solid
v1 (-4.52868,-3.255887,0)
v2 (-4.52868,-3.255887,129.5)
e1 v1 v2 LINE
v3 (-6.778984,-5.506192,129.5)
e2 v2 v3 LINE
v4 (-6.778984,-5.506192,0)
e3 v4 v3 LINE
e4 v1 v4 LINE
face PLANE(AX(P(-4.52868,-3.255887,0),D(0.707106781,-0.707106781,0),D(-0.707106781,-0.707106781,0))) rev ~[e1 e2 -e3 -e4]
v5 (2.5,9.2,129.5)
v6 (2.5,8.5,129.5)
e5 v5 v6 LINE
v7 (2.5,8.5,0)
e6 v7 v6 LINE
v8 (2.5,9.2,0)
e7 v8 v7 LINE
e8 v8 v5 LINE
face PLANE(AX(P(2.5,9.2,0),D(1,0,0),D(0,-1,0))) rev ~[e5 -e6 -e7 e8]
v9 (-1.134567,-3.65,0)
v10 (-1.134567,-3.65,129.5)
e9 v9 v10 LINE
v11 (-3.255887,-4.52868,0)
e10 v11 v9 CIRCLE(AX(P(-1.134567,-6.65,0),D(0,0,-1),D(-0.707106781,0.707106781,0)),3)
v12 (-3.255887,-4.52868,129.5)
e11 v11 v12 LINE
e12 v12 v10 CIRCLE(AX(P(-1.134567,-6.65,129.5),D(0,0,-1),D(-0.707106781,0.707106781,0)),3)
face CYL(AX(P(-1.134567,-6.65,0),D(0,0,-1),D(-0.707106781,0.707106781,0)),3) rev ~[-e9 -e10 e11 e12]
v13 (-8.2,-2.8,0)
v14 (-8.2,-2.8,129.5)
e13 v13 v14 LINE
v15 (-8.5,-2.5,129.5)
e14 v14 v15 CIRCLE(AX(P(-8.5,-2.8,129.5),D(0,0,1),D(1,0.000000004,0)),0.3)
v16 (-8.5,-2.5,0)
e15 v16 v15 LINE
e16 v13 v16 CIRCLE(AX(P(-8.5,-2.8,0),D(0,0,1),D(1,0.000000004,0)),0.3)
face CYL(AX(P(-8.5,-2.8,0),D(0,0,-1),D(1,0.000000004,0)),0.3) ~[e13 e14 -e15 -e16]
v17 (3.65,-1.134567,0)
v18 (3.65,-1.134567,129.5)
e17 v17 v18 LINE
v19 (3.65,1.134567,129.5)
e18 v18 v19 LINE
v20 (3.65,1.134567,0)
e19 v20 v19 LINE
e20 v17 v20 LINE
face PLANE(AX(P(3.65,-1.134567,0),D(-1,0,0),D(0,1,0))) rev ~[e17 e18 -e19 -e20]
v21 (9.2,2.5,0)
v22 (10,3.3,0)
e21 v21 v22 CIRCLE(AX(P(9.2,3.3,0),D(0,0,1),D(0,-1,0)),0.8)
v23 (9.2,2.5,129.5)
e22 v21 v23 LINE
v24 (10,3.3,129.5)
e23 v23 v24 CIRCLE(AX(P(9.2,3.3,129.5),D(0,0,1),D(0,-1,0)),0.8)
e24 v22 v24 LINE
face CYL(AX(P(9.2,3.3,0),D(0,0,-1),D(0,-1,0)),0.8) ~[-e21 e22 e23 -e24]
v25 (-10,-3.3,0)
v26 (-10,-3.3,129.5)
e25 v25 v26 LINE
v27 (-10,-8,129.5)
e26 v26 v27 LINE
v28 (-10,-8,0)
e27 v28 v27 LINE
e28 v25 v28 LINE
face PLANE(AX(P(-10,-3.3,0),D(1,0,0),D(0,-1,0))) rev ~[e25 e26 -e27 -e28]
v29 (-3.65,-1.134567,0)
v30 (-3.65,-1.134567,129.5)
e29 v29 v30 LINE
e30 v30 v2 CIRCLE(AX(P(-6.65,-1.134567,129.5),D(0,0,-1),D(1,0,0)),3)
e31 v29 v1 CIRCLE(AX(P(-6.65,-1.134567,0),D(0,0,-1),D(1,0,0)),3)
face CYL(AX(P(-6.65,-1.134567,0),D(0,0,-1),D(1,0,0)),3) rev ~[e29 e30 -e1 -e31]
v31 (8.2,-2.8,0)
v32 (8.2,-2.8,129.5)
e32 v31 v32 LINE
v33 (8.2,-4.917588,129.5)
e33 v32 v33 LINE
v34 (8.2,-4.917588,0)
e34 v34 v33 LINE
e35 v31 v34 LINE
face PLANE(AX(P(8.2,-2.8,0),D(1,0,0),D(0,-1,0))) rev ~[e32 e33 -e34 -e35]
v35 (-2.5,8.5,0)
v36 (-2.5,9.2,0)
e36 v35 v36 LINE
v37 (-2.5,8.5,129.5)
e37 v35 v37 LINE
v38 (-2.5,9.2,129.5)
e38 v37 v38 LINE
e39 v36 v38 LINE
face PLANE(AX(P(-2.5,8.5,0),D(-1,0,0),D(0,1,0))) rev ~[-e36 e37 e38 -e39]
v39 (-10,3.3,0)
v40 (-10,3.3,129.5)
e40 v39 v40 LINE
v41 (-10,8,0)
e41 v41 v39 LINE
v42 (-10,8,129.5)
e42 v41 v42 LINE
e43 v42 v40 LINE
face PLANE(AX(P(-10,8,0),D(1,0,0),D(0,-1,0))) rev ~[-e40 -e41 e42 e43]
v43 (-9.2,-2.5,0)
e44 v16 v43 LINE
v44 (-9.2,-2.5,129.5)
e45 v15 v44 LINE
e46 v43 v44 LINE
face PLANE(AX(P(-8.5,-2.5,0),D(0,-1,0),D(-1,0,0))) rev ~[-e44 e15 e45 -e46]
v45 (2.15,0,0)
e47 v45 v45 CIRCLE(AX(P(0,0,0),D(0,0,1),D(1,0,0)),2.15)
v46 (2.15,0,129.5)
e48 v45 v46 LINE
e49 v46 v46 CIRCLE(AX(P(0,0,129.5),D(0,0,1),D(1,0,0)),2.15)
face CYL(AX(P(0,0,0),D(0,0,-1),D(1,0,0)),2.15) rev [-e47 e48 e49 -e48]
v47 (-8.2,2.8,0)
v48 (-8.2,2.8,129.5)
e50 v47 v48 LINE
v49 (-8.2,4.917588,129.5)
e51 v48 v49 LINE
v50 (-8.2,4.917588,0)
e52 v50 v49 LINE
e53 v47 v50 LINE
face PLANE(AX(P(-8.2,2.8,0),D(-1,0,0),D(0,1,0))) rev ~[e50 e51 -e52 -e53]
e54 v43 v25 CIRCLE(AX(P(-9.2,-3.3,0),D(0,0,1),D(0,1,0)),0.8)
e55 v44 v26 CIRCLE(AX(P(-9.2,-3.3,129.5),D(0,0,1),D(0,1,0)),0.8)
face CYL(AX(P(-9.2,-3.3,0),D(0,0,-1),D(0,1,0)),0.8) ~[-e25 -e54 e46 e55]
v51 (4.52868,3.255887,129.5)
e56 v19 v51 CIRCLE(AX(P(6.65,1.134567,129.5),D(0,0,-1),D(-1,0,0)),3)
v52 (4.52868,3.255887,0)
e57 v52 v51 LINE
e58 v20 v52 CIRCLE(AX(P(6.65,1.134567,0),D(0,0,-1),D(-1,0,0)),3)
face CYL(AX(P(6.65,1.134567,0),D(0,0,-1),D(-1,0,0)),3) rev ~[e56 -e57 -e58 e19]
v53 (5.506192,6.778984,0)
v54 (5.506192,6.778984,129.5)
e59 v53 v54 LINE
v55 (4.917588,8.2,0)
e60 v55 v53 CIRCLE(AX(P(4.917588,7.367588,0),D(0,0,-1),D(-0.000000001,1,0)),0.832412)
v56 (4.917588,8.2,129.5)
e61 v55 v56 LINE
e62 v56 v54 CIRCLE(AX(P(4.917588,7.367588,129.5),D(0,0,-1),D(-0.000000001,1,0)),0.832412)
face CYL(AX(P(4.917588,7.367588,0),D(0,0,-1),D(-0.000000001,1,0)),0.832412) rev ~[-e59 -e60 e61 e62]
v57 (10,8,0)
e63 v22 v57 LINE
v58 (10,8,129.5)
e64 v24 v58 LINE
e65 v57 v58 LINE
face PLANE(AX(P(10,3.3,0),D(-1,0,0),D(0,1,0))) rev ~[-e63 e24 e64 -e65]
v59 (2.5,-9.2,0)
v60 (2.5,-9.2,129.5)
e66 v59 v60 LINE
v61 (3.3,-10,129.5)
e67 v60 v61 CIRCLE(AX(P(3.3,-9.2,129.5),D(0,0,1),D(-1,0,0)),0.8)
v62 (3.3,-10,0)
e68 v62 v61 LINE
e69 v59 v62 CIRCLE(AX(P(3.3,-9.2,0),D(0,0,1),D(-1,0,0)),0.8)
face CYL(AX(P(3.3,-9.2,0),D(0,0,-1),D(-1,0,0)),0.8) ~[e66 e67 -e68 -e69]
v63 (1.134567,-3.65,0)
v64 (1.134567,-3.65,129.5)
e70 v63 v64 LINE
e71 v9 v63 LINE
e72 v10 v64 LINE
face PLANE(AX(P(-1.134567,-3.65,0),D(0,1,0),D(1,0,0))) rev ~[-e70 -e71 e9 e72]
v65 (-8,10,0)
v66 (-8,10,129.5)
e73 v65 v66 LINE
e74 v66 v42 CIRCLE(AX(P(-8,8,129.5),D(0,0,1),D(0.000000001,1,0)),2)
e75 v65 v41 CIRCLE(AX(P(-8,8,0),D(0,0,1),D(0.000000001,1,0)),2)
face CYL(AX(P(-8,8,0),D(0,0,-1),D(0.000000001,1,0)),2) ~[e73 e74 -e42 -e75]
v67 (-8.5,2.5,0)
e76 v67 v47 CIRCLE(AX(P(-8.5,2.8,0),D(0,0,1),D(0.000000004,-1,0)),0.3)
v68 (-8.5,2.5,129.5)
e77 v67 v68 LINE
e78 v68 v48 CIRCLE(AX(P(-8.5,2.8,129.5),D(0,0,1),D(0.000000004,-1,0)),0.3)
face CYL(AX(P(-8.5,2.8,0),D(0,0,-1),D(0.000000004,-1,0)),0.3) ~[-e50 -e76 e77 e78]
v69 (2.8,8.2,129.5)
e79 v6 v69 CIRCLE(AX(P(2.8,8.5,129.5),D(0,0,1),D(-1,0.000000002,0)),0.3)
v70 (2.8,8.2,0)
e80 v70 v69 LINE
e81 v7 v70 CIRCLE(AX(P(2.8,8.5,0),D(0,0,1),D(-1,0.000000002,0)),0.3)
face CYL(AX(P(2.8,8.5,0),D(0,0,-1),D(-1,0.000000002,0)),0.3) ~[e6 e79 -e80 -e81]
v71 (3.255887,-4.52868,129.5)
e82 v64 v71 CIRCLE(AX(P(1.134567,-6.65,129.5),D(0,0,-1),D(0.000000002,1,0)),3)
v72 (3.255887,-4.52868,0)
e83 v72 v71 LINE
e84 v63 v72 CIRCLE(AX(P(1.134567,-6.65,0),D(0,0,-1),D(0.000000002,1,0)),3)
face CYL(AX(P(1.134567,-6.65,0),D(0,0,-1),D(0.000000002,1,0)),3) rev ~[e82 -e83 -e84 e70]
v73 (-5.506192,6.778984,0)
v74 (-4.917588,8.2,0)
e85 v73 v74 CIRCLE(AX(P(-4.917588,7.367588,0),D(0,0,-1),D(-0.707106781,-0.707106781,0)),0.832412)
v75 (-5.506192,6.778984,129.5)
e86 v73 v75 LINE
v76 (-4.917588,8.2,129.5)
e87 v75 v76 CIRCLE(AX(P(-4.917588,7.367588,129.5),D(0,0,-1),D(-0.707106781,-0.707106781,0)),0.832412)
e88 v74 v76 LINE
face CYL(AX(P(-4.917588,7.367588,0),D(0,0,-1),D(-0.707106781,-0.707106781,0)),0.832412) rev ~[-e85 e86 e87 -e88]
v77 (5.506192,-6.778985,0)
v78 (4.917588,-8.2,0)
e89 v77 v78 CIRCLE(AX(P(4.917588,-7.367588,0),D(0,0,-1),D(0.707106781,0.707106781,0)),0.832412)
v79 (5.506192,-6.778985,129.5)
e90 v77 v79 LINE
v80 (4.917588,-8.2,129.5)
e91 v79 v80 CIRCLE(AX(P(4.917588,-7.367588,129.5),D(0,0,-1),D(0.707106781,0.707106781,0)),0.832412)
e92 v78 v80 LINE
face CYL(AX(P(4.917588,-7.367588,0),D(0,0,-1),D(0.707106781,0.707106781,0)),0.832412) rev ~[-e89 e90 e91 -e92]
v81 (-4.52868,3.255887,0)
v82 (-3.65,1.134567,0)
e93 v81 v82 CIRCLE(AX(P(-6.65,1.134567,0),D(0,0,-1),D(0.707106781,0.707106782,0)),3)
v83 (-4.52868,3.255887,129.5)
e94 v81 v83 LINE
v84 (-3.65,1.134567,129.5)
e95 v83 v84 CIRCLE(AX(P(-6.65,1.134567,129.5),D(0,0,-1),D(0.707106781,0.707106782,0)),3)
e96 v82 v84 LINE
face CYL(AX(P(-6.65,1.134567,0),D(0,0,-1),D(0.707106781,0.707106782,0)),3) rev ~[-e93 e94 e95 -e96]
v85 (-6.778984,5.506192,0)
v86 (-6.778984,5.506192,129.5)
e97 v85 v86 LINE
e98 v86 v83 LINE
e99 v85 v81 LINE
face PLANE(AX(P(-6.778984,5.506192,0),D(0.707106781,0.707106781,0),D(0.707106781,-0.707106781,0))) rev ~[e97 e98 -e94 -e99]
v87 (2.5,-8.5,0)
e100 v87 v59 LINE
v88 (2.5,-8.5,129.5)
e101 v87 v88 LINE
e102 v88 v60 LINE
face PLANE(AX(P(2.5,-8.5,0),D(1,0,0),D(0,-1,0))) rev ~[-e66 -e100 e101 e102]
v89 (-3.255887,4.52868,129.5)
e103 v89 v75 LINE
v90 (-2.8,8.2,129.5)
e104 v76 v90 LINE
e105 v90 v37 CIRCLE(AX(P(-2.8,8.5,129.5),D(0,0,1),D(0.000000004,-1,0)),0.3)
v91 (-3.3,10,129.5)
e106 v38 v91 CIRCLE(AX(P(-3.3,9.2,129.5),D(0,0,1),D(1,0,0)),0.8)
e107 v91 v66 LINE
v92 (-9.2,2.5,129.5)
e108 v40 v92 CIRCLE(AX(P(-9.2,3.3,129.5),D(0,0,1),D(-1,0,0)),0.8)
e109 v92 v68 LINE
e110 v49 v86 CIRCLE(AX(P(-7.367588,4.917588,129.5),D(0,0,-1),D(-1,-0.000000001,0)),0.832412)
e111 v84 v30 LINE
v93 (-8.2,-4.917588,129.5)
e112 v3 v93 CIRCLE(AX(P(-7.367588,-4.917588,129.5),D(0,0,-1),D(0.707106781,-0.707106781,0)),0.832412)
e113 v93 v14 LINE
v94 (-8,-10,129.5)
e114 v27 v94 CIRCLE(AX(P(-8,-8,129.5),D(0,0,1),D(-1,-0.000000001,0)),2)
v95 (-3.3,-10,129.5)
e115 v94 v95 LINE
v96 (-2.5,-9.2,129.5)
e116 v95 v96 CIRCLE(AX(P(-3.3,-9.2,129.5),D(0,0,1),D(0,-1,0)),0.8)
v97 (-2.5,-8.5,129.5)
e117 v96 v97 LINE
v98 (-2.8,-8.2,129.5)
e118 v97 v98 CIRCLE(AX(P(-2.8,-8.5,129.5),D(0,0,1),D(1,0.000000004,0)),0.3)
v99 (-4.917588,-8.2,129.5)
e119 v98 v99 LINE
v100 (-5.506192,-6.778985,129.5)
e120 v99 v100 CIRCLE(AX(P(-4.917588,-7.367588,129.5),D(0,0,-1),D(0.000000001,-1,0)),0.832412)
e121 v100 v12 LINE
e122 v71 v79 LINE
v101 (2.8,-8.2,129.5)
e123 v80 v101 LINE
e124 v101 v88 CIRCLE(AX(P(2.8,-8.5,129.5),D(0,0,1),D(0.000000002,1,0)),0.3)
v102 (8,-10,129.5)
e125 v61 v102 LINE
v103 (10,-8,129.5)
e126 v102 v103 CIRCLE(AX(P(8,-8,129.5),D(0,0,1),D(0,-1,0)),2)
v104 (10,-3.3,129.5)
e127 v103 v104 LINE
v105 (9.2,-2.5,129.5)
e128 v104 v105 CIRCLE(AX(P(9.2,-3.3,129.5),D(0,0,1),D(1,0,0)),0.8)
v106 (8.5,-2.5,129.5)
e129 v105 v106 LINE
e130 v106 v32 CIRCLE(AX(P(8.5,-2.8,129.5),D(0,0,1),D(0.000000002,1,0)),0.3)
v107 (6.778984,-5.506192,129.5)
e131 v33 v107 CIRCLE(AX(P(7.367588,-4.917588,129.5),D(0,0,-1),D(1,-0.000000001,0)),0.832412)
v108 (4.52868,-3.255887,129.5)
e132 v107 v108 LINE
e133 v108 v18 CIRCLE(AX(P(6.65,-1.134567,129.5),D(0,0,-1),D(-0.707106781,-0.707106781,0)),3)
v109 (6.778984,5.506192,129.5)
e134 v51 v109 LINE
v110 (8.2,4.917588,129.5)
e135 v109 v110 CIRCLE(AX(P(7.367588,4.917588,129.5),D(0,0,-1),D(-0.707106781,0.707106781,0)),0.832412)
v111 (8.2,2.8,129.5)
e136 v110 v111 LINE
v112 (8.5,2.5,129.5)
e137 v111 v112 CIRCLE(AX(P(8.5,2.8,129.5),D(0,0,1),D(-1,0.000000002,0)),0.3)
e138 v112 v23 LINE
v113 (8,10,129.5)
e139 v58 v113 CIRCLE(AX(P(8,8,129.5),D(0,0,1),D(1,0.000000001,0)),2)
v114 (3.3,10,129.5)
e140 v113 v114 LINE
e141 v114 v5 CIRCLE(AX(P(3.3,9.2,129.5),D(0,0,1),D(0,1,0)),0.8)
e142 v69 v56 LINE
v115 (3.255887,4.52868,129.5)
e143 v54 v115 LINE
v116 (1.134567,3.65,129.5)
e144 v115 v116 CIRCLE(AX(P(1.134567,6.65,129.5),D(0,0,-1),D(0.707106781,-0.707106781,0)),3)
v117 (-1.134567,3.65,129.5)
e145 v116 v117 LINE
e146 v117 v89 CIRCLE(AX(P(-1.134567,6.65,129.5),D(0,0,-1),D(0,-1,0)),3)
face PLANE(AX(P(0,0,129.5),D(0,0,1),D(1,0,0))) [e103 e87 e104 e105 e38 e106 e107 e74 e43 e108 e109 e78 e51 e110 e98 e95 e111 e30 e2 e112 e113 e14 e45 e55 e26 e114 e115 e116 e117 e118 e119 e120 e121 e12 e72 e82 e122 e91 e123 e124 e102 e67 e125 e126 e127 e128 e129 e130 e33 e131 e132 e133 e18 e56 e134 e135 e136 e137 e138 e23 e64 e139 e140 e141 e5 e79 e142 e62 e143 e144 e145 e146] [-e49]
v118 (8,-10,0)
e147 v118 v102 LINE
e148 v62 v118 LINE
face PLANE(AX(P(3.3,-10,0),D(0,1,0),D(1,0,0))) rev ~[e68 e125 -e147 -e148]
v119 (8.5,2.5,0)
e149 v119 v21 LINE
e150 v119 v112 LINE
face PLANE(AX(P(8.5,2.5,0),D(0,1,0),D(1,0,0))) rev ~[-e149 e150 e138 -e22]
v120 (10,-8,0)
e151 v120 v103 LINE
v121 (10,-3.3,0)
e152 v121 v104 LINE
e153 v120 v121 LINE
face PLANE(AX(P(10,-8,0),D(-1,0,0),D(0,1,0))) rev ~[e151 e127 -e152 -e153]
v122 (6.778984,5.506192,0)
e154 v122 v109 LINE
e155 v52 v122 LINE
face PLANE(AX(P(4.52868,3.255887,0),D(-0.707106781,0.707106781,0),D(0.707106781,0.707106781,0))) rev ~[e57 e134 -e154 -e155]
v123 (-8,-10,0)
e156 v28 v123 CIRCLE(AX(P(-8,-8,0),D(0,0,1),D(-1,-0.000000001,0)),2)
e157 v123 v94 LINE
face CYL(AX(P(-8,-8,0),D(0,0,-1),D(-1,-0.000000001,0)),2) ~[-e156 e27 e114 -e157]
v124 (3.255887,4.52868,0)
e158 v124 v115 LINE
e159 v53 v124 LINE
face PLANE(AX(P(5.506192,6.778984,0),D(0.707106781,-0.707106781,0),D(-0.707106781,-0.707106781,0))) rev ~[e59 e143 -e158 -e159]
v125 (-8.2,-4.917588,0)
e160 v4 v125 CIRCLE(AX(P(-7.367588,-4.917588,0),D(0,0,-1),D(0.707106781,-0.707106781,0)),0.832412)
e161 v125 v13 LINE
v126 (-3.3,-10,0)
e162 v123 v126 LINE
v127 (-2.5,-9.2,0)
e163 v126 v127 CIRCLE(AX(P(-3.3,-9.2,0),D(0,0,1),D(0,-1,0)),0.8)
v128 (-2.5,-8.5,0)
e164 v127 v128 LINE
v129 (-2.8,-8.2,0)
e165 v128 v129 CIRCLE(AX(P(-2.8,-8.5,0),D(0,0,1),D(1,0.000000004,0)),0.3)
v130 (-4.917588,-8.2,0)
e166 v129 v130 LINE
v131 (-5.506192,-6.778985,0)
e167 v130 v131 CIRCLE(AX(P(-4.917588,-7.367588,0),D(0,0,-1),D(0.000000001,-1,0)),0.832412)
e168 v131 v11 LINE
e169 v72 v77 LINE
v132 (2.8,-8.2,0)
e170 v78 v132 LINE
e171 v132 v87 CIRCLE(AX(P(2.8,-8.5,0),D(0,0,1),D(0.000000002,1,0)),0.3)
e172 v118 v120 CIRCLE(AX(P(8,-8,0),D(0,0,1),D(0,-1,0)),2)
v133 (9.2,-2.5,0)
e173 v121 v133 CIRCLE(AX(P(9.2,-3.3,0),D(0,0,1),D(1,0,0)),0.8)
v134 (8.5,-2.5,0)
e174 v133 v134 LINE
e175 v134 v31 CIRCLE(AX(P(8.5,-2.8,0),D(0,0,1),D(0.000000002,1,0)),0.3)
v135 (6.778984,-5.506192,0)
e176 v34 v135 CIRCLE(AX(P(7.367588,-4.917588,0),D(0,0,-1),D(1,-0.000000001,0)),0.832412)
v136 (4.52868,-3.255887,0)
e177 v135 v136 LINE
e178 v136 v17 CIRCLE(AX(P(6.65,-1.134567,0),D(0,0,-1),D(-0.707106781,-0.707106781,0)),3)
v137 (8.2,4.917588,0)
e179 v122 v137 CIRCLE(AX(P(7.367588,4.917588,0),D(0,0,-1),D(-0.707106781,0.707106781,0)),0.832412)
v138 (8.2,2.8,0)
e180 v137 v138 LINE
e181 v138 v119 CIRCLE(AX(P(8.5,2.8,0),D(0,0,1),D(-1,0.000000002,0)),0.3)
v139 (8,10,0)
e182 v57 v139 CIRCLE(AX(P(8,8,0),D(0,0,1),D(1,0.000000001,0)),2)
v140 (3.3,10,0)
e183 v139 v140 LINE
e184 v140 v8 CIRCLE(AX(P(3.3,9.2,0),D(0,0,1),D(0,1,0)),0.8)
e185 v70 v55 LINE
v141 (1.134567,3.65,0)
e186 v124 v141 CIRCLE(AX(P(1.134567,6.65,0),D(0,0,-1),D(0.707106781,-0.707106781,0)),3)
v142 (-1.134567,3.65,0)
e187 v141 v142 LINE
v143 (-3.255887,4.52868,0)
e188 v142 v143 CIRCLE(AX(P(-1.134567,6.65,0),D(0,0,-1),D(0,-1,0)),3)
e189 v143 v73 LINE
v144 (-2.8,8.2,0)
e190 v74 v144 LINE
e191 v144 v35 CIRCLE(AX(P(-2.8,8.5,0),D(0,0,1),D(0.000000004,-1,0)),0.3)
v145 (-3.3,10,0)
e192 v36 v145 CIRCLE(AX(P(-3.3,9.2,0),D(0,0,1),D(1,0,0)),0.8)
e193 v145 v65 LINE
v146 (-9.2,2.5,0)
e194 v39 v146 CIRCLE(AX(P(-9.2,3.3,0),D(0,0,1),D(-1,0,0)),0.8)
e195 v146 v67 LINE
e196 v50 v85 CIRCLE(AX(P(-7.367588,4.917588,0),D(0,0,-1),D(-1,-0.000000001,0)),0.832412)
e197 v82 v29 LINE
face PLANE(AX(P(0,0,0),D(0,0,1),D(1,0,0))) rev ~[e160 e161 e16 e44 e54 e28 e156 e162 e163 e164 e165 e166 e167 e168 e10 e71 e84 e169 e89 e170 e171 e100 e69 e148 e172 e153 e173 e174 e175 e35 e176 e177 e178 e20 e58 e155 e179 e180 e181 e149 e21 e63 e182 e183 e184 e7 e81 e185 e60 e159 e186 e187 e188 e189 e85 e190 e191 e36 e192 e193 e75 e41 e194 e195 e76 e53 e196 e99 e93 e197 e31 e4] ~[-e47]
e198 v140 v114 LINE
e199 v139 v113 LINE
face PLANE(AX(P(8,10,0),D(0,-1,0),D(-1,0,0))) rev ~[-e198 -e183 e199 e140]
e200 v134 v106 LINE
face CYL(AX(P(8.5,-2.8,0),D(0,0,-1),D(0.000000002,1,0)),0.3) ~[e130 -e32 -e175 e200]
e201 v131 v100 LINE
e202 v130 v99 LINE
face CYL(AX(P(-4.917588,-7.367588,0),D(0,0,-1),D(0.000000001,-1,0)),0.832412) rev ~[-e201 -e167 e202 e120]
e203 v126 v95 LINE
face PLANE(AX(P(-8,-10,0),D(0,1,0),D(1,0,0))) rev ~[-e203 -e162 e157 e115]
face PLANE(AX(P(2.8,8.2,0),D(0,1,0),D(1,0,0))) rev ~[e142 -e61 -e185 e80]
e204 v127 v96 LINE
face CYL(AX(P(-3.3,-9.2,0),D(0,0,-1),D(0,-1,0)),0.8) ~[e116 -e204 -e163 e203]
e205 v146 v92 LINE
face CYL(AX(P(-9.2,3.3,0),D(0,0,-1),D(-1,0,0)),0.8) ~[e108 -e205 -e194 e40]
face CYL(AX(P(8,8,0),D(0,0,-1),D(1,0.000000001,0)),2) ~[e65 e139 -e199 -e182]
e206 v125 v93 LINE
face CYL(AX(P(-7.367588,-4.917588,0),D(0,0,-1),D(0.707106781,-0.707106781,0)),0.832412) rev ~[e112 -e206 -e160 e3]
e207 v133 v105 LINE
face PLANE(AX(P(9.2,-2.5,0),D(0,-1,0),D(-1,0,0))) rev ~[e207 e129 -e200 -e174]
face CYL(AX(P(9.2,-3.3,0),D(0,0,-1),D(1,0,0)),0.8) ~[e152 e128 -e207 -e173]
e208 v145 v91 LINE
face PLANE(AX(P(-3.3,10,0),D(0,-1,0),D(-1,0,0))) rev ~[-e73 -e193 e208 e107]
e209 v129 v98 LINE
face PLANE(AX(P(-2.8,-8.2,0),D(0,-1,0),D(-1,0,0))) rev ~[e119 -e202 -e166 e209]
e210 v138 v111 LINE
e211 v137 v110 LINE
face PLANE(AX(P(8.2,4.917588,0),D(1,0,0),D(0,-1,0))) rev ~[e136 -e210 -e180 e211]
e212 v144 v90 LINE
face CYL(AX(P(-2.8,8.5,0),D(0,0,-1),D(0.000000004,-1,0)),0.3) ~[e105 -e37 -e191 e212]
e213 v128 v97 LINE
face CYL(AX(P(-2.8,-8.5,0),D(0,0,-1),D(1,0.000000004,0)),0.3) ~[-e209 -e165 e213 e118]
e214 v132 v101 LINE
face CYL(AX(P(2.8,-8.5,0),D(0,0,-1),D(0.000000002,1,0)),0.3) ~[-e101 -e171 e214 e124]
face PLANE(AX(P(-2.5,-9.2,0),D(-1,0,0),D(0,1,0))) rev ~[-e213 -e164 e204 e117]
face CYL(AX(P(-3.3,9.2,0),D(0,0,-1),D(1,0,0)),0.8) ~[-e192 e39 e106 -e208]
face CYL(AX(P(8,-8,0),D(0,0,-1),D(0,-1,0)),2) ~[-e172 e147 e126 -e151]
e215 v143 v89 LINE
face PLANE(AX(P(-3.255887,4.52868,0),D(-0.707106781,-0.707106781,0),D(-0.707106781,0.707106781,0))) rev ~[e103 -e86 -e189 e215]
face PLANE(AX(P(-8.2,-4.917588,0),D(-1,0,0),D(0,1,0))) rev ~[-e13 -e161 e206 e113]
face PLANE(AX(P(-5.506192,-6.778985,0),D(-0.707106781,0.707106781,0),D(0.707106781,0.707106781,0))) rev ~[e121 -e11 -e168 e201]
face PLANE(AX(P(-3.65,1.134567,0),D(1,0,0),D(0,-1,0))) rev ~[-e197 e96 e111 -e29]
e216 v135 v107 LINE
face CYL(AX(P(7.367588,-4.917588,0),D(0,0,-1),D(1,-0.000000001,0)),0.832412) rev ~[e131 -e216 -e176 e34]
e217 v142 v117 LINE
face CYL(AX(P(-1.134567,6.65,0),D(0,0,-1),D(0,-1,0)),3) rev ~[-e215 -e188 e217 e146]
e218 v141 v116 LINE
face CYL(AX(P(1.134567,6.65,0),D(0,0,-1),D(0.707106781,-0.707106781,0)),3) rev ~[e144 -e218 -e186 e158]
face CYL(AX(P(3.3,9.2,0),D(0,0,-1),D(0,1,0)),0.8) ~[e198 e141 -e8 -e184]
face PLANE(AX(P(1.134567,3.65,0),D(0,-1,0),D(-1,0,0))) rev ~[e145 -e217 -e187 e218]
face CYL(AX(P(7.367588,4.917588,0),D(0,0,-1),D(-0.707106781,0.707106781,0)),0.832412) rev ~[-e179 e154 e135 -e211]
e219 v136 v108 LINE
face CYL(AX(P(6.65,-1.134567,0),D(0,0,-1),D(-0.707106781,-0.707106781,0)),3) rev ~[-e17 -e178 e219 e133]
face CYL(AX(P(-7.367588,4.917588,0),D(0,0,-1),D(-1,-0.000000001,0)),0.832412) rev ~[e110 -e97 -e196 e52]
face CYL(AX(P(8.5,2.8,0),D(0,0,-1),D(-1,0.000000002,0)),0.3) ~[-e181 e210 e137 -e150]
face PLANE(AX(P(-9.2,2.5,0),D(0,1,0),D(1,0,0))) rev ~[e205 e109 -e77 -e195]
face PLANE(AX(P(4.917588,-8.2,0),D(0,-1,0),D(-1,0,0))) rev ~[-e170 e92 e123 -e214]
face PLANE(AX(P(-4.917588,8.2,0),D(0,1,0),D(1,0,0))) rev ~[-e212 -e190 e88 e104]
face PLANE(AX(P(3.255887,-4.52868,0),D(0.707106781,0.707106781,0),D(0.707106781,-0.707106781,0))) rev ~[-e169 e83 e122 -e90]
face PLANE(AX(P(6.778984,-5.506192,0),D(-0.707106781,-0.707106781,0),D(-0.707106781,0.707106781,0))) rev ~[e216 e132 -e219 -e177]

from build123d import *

# Parameters (mm, degrees)
BOSS_EXTRU_1_DEPTH = 129.5


with BuildPart() as part:
    # Esquisse1 → Boss.-Extru.1 (new body)
    with BuildSketch(Plane.XY):
        with BuildLine():
            Line((-3.255887446, 4.528679645), (-5.506192286, 6.778984485))
            ThreePointArc((-5.506192286, 6.778984485), (-5.686636441, 7.686138511), (-4.917588391, 8.199999989))
            Line((-4.917588391, 8.199999989), (-2.799999991, 8.199999989))
            ThreePointArc((-2.799999991, 8.199999989), (-2.587867957, 8.287867955), (-2.499999991, 8.499999989))
            Line((-2.499999991, 8.499999989), (-2.499999991, 9.199999989))
            ThreePointArc((-2.499999991, 9.199999989), (-2.734314566, 9.765685414), (-3.299999991, 9.999999989))
            Line((-3.299999991, 9.999999989), (-7.999999991, 9.999999989))
            ThreePointArc((-7.999999991, 9.999999989), (-9.414213554, 9.414213552), (-9.999999991, 7.999999989))
            Line((-9.999999991, 7.999999989), (-9.999999991, 3.299999989))
            ThreePointArc((-9.999999991, 3.299999989), (-9.765685416, 2.734314564), (-9.199999991, 2.499999989))
            Line((-9.199999991, 2.499999989), (-8.499999991, 2.499999989))
            ThreePointArc((-8.499999991, 2.499999989), (-8.287867957, 2.587867955), (-8.199999991, 2.799999989))
            Line((-8.199999991, 2.799999989), (-8.199999991, 4.917588389))
            ThreePointArc((-8.199999991, 4.917588389), (-7.686138517, 5.686636433), (-6.778984497, 5.506192279))
            Line((-6.778984497, 5.506192279), (-4.528679657, 3.255887439))
            ThreePointArc((-4.528679657, 3.255887439), (-3.878361403, 2.282617393), (-3.650000001, 1.134567096))
            Line((-3.650000001, 1.134567096), (-3.650000001, -1.134567114))
            ThreePointArc((-3.650000001, -1.134567114), (-3.878361403, -2.282617409), (-4.528679656, -3.255887454))
            Line((-4.528679656, -3.255887454), (-6.778984496, -5.506192294))
            ThreePointArc((-6.778984496, -5.506192294), (-7.686138522, -5.686636449), (-8.2, -4.9175884))
            Line((-8.2, -4.9175884), (-8.2, -2.8))
            ThreePointArc((-8.2, -2.8), (-8.287867966, -2.587867966), (-8.5, -2.5))
            Line((-8.5, -2.5), (-9.2, -2.5))
            ThreePointArc((-9.2, -2.5), (-9.765685425, -2.734314575), (-10, -3.3))
            Line((-10, -3.3), (-10, -8))
            ThreePointArc((-10, -8), (-9.414213562, -9.414213562), (-8, -10))
            Line((-8, -10), (-3.3, -10))
            ThreePointArc((-3.3, -10), (-2.734314575, -9.765685425), (-2.5, -9.2))
            Line((-2.5, -9.2), (-2.5, -8.5))
            ThreePointArc((-2.5, -8.5), (-2.587867966, -8.287867966), (-2.8, -8.2))
            Line((-2.8, -8.2), (-4.9175884, -8.2))
            ThreePointArc((-4.9175884, -8.2), (-5.686636444, -7.686138526), (-5.50619229, -6.778984506))
            Line((-5.50619229, -6.778984506), (-3.25588745, -4.528679666))
            ThreePointArc((-3.25588745, -4.528679666), (-2.282617404, -3.878361412), (-1.134567106, -3.650000009))
            Line((-1.134567106, -3.650000009), (1.134567104, -3.650000009))
            ThreePointArc((1.134567104, -3.650000009), (2.282617399, -3.878361412), (3.255887444, -4.528679664))
            Line((3.255887444, -4.528679664), (5.506192284, -6.778984504))
            ThreePointArc((5.506192284, -6.778984504), (5.686636439, -7.686138531), (4.917588389, -8.200000009))
            Line((4.917588389, -8.200000009), (2.799999989, -8.200000009))
            ThreePointArc((2.799999989, -8.200000009), (2.587867955, -8.287867974), (2.499999989, -8.500000009))
            Line((2.499999989, -8.500000009), (2.499999989, -9.200000009))
            ThreePointArc((2.499999989, -9.200000009), (2.734314564, -9.765685434), (3.299999989, -10.000000009))
            Line((3.299999989, -10.000000009), (7.999999989, -10.000000009))
            ThreePointArc((7.999999989, -10.000000009), (9.414213552, -9.414213571), (9.999999989, -8.000000009))
            Line((9.999999989, -8.000000009), (9.999999989, -3.300000009))
            ThreePointArc((9.999999989, -3.300000009), (9.765685414, -2.734314584), (9.199999989, -2.500000009))
            Line((9.199999989, -2.500000009), (8.499999989, -2.500000009))
            ThreePointArc((8.499999989, -2.500000009), (8.287867955, -2.587867974), (8.199999989, -2.800000009))
            Line((8.199999989, -2.800000009), (8.199999989, -4.917588409))
            ThreePointArc((8.199999989, -4.917588409), (7.686138515, -5.686636452), (6.778984495, -5.506192299))
            Line((6.778984495, -5.506192299), (4.528679655, -3.255887459))
            ThreePointArc((4.528679655, -3.255887459), (3.878361401, -2.282617412), (3.649999999, -1.134567115))
            Line((3.649999999, -1.134567115), (3.649999999, 1.134567095))
            ThreePointArc((3.649999999, 1.134567095), (3.878361401, 2.28261739), (4.528679654, 3.255887435))
            Line((4.528679654, 3.255887435), (6.778984494, 5.506192275))
            ThreePointArc((6.778984494, 5.506192275), (7.68613852, 5.68663643), (8.199999998, 4.917588381))
            Line((8.199999998, 4.917588381), (8.199999998, 2.799999981))
            ThreePointArc((8.199999998, 2.799999981), (8.287867964, 2.587867946), (8.499999998, 2.499999981))
            Line((8.499999998, 2.499999981), (9.199999998, 2.499999981))
            ThreePointArc((9.199999998, 2.499999981), (9.765685423, 2.734314556), (9.999999998, 3.299999981))
            Line((9.999999998, 3.299999981), (9.999999998, 7.999999981))
            ThreePointArc((9.999999998, 7.999999981), (9.41421356, 9.414213543), (7.999999998, 9.999999981))
            Line((7.999999998, 9.999999981), (3.299999998, 9.999999981))
            ThreePointArc((3.299999998, 9.999999981), (2.734314573, 9.765685406), (2.499999998, 9.199999981))
            Line((2.499999998, 9.199999981), (2.499999998, 8.499999981))
            ThreePointArc((2.499999998, 8.499999981), (2.587867964, 8.287867946), (2.799999998, 8.199999981))
            Line((2.799999998, 8.199999981), (4.917588398, 8.199999981))
            ThreePointArc((4.917588398, 8.199999981), (5.686636442, 7.686138507), (5.506192288, 6.778984487))
            Line((5.506192288, 6.778984487), (3.255887448, 4.528679647))
            ThreePointArc((3.255887448, 4.528679647), (2.282617402, 3.878361393), (1.134567104, 3.64999999))
            Line((1.134567104, 3.64999999), (-1.134567106, 3.64999999))
            ThreePointArc((-1.134567106, 3.64999999), (-2.282617401, 3.878361392), (-3.255887446, 4.528679645))
        make_face()
        with BuildLine():
            ThreePointArc((-2.15, 0), (0, -2.15), (2.15, 0))
            ThreePointArc((2.15, 0), (0, 2.15), (-2.15, 0))
        make_face(mode=Mode.SUBTRACT)
    extrude(amount=BOSS_EXTRU_1_DEPTH)


solid = part.part
